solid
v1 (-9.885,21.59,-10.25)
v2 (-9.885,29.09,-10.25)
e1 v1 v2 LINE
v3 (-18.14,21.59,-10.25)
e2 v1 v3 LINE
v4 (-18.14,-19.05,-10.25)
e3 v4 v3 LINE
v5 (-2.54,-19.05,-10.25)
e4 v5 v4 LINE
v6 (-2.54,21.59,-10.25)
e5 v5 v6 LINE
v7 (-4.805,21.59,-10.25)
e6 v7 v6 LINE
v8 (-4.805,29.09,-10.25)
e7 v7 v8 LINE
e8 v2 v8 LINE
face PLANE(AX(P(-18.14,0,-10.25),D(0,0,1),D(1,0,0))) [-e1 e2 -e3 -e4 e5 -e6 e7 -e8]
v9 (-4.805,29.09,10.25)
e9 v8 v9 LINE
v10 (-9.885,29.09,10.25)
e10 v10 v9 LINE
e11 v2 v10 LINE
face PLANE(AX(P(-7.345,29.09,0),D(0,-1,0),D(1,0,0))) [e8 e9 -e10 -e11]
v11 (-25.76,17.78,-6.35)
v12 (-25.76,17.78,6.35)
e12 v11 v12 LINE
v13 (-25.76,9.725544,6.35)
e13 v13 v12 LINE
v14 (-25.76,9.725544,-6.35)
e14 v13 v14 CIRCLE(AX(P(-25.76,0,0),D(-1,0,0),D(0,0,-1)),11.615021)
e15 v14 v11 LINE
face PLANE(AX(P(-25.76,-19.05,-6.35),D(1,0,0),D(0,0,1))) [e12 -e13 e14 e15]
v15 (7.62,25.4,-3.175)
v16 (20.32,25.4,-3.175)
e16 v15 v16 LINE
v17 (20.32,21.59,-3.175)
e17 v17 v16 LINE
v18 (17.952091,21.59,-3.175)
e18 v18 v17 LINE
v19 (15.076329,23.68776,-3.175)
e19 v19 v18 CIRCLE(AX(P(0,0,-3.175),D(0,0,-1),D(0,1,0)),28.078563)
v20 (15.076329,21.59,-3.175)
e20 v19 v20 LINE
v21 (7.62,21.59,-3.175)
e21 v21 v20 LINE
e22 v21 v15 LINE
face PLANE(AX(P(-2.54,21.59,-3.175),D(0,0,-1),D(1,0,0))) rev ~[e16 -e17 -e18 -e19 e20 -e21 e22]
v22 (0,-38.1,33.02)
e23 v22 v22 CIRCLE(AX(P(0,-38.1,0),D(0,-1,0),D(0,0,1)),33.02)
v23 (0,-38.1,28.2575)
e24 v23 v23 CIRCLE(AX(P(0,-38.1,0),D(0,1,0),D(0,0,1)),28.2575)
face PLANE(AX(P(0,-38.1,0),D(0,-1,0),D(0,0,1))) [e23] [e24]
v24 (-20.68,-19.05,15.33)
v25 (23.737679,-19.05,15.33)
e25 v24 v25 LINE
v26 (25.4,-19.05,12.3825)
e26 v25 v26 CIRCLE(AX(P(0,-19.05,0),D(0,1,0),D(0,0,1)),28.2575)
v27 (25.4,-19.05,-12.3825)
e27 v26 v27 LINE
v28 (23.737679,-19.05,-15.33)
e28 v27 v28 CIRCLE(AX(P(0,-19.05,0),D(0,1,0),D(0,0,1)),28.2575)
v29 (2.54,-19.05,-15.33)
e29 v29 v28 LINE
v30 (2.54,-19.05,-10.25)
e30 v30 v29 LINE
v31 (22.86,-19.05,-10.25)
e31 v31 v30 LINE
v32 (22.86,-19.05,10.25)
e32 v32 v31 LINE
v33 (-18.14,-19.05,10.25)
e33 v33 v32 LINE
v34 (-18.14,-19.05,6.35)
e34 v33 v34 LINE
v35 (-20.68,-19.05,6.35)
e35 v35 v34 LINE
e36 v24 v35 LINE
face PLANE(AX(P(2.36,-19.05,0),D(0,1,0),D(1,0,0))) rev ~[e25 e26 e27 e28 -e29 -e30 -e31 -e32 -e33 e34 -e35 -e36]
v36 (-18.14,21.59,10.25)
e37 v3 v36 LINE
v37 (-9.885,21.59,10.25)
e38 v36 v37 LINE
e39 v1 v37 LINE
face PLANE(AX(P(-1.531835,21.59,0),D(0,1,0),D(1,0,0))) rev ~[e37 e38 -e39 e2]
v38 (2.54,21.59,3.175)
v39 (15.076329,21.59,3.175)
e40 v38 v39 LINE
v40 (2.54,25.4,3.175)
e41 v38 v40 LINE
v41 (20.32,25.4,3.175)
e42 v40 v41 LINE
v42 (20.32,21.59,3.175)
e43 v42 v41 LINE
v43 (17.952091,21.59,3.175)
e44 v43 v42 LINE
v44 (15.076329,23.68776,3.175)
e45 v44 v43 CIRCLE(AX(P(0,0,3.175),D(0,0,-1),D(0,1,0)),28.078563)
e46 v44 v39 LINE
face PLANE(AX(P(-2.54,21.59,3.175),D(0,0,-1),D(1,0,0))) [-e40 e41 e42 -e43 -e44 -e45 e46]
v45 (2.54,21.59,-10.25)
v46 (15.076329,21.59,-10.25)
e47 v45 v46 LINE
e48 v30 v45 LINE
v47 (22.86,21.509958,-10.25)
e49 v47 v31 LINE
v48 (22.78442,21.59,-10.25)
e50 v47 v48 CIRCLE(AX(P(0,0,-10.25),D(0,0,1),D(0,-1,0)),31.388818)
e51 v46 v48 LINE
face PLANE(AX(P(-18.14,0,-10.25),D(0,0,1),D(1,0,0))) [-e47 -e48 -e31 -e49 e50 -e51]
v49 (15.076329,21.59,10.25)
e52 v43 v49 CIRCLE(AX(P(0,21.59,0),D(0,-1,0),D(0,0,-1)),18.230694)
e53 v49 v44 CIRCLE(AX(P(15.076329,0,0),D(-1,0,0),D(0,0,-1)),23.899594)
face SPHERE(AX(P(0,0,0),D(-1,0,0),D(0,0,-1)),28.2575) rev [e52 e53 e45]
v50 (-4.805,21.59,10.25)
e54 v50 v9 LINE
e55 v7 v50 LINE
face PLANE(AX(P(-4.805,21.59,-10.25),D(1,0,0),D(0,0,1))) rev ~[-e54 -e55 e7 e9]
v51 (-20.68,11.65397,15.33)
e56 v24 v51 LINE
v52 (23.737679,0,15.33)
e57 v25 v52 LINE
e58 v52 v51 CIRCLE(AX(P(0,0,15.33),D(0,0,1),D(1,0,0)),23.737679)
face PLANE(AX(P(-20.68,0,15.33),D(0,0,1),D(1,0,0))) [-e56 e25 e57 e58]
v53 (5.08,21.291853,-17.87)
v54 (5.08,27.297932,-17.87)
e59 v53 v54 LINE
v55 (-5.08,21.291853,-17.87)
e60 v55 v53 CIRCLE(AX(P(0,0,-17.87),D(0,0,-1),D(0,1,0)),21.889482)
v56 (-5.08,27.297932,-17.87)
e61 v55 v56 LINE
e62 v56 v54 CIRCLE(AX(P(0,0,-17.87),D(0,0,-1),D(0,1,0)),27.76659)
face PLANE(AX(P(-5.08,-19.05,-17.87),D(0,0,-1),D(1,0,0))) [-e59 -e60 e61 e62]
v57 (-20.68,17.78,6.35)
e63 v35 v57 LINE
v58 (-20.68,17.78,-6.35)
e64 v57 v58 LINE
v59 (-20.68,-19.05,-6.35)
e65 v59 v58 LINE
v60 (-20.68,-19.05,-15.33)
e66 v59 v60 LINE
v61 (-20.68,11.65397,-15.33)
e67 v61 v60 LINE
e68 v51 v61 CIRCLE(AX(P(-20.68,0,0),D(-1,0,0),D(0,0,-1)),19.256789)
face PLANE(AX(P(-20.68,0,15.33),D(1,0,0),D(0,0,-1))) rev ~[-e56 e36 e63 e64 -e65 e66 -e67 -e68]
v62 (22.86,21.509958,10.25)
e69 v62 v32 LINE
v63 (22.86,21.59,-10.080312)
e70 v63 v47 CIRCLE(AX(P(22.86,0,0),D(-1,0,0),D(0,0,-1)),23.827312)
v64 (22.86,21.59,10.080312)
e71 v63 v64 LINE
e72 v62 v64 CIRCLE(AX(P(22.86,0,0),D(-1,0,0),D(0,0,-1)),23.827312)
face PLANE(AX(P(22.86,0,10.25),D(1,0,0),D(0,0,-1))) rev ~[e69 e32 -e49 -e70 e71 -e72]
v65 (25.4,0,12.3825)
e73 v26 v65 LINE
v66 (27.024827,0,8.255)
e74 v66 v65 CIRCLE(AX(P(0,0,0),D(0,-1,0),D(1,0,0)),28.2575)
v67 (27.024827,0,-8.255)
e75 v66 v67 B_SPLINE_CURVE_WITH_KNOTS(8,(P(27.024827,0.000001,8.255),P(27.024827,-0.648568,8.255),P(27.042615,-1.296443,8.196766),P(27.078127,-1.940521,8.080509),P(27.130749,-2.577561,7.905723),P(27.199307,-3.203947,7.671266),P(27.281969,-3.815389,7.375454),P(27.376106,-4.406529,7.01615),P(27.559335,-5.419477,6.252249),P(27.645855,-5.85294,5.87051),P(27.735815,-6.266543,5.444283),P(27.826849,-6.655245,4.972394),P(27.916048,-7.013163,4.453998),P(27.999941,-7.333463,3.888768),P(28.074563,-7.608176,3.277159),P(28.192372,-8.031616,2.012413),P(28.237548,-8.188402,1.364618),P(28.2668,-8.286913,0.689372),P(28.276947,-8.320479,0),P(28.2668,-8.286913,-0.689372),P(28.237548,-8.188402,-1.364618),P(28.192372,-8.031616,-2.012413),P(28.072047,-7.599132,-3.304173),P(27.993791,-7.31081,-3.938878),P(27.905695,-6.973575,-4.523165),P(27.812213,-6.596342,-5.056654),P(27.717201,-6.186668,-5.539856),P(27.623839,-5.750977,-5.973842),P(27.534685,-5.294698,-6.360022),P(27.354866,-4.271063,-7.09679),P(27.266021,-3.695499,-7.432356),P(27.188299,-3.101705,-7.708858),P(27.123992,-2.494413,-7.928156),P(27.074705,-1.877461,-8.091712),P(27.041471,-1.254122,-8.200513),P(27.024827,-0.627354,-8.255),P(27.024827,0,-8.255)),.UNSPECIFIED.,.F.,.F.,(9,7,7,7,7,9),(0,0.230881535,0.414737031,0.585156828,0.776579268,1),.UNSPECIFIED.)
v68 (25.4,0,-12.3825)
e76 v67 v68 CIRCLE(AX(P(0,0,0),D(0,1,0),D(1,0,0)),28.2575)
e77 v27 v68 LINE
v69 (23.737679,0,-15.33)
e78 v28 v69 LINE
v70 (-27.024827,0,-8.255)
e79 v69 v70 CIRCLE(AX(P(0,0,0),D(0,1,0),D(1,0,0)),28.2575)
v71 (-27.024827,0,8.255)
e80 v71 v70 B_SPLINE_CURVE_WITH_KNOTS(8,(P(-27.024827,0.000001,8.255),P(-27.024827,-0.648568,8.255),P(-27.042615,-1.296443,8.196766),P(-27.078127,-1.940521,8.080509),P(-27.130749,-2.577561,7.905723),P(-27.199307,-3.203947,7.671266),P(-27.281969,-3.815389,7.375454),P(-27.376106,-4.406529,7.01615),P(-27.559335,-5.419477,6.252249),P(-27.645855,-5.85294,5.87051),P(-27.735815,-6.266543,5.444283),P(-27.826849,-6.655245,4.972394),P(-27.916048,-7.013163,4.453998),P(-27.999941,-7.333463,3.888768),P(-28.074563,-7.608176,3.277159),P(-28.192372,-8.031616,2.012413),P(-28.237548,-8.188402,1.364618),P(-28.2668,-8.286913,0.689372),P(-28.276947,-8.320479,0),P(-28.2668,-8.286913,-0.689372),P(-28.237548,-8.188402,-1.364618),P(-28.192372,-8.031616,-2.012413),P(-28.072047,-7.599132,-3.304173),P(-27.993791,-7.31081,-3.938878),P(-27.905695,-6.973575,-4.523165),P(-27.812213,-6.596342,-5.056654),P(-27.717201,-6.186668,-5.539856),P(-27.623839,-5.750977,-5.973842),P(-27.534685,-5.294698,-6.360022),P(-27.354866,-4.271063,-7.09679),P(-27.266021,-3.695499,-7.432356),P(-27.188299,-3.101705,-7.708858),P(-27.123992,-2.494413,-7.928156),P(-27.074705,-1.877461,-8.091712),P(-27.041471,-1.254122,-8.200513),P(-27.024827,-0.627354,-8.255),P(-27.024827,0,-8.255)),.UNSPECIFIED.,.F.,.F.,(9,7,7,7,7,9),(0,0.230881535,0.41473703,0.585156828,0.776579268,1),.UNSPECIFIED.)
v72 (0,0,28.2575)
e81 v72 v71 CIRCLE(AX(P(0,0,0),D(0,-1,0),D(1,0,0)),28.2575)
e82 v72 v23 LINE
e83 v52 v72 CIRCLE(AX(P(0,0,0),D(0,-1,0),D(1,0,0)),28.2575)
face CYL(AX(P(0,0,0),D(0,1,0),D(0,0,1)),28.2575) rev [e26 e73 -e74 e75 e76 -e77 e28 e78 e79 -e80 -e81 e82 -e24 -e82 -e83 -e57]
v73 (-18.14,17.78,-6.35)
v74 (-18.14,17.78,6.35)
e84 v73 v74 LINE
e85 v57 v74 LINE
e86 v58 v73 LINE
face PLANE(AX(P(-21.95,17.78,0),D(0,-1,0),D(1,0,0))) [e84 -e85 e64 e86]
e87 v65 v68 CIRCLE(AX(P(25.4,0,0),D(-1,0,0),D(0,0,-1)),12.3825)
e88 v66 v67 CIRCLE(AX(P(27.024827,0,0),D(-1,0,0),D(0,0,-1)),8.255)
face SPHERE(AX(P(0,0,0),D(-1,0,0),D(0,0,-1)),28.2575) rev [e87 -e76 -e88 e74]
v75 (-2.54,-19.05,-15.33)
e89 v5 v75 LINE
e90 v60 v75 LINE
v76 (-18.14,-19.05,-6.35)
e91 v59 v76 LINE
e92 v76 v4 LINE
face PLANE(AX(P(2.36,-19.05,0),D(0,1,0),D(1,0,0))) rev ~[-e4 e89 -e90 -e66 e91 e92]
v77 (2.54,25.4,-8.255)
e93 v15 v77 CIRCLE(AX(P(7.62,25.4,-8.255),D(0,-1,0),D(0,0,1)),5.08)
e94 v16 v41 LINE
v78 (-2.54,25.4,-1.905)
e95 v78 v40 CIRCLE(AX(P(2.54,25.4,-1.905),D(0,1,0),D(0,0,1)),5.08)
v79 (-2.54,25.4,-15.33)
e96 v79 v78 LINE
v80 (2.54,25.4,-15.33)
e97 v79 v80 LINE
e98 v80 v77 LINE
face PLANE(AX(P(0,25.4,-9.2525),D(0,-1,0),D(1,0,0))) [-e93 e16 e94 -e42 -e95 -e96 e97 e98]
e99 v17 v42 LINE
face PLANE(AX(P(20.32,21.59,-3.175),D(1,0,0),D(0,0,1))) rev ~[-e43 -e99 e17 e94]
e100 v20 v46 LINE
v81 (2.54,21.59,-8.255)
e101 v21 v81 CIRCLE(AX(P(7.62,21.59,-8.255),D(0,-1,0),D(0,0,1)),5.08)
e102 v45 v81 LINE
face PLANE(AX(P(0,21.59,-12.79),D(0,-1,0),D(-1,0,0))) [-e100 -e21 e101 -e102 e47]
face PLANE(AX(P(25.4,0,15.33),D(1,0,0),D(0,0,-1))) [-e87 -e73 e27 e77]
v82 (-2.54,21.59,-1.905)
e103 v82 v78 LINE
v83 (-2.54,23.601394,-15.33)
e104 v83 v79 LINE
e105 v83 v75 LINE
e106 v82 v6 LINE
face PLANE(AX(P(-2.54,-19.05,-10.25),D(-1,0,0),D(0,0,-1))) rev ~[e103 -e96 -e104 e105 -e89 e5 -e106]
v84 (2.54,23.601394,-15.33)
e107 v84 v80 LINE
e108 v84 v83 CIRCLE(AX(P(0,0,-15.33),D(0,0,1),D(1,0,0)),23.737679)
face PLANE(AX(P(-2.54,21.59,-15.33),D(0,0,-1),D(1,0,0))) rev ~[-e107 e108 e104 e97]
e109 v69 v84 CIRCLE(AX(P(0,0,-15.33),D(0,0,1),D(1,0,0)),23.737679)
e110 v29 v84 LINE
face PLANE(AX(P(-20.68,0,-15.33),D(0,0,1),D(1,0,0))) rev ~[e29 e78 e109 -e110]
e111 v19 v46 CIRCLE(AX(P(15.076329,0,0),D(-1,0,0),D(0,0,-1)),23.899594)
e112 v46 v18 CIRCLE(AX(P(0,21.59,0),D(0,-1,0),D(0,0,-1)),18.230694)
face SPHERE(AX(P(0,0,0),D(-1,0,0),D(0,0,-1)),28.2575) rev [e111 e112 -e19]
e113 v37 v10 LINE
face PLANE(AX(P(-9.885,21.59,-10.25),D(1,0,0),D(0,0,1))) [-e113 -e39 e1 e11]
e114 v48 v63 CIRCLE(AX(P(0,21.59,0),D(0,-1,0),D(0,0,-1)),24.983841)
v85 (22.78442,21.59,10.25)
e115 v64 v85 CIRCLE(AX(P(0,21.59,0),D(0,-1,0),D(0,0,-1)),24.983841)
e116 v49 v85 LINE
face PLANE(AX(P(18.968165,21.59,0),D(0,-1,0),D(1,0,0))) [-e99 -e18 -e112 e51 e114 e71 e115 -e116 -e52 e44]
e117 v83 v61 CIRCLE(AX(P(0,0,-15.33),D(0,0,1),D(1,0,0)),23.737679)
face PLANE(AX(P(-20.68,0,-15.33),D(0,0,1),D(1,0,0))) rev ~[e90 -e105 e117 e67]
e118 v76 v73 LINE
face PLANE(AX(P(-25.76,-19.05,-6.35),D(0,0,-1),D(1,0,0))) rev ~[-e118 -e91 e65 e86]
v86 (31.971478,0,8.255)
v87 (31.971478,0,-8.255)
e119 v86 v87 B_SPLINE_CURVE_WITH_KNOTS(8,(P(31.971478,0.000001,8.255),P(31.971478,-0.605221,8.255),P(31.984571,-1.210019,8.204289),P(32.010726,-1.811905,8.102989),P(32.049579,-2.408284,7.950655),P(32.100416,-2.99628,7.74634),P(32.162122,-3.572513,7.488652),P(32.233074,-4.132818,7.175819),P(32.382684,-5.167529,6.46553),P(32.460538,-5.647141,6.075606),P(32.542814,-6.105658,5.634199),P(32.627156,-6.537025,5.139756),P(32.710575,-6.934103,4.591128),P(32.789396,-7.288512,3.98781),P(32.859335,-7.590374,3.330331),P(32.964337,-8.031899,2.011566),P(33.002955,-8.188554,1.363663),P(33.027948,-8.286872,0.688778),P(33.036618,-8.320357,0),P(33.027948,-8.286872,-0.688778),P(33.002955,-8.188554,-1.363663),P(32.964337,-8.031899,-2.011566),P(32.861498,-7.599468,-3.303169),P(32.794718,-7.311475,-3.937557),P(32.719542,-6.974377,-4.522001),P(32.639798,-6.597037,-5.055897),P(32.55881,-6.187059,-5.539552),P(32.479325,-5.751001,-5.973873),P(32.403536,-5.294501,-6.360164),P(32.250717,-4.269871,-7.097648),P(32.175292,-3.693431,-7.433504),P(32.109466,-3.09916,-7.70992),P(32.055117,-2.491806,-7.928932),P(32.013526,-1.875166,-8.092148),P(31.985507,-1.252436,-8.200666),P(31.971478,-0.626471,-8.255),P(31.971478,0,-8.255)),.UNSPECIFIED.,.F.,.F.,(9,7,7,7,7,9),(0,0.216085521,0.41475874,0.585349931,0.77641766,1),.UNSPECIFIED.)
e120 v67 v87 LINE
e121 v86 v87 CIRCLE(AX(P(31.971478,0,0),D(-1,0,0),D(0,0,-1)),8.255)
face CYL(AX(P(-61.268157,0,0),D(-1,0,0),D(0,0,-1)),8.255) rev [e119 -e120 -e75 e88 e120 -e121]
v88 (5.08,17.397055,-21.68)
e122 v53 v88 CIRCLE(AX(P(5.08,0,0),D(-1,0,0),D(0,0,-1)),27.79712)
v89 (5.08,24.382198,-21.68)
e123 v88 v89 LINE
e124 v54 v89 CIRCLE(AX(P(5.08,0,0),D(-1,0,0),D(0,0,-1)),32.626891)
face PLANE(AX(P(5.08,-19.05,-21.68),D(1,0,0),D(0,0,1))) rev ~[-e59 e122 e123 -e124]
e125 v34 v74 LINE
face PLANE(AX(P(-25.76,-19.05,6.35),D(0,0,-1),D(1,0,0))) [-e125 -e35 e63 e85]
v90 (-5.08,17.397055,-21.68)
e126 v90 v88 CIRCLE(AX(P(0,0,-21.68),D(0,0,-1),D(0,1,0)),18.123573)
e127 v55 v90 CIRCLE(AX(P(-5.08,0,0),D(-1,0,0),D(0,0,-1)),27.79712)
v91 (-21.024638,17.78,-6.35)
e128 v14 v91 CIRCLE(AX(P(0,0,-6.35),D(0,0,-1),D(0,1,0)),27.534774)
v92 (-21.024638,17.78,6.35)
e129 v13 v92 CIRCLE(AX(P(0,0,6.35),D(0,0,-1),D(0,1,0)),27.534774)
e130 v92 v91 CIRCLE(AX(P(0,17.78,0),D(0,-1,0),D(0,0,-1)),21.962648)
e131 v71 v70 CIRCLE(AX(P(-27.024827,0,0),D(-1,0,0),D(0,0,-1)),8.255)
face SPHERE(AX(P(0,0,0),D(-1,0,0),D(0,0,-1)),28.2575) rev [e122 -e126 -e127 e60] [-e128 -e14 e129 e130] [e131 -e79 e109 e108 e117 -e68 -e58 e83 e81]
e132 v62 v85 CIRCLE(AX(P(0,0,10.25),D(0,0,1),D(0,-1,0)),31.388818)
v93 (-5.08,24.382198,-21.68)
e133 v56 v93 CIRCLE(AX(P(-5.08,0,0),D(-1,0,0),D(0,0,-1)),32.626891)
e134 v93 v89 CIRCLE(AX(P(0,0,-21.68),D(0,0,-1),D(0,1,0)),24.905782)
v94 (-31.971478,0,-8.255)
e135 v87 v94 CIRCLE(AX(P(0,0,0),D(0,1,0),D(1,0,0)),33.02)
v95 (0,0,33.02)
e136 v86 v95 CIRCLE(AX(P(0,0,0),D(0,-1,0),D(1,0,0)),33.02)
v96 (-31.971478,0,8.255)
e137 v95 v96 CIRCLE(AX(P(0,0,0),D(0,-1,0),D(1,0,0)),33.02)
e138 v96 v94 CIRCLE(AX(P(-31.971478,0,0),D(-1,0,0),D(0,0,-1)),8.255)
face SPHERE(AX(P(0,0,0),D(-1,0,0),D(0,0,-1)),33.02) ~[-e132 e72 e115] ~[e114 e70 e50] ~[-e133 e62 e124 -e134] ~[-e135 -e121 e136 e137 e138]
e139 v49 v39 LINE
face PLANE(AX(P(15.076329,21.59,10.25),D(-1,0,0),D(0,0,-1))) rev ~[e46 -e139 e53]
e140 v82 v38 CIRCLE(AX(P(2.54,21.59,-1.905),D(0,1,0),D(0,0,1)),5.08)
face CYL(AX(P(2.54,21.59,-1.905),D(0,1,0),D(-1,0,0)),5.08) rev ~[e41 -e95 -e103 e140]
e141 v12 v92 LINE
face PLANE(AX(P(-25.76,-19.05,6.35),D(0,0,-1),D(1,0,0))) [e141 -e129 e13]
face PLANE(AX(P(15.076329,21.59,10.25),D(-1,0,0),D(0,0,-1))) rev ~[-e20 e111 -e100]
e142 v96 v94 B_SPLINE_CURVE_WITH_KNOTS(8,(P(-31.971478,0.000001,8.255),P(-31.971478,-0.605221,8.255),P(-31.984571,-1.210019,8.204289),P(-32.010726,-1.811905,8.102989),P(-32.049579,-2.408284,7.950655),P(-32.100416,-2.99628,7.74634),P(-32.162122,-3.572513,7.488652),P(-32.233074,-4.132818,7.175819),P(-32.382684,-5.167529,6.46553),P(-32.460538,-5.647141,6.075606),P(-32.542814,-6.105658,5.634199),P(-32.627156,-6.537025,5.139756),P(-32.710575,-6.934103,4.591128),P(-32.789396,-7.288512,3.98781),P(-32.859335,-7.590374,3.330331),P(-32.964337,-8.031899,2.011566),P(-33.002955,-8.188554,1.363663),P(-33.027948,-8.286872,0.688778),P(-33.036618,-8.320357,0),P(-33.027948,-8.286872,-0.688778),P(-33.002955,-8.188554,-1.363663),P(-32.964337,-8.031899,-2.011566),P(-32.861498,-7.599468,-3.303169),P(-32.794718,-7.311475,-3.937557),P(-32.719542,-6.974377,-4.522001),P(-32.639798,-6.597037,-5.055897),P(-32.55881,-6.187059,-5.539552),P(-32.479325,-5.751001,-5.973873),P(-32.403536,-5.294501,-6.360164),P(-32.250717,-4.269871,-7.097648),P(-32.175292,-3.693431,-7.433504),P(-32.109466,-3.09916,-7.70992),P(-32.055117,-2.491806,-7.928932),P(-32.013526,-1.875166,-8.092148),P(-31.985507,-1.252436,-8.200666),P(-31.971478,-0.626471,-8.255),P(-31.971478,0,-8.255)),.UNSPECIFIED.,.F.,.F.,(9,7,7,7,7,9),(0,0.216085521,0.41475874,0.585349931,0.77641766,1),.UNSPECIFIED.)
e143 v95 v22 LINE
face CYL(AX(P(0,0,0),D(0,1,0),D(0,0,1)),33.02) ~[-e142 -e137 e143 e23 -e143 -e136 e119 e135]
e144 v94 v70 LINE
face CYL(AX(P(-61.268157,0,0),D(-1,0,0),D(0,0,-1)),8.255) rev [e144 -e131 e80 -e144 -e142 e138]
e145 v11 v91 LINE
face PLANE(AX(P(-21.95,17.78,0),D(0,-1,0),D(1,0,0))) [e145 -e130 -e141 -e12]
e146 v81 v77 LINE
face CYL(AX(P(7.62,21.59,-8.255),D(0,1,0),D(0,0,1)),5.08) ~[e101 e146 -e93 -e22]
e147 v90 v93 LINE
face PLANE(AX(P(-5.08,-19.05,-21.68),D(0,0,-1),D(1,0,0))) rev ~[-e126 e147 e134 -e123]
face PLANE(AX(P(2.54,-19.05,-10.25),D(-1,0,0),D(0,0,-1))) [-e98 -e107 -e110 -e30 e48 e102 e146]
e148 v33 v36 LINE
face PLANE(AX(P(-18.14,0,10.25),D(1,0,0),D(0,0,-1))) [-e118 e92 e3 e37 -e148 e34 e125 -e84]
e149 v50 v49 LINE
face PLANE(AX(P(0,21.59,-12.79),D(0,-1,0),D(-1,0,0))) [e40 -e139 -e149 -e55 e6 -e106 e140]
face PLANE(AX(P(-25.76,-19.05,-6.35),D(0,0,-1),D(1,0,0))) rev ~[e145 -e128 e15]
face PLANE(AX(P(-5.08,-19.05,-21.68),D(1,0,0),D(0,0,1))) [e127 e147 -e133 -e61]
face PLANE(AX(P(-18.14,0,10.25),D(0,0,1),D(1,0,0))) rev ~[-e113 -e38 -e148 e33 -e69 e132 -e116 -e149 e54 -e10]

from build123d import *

# Parameters (mm, degrees)
REVOLVE1_ANGLE                  = 180
SKETCH3_R                       = 33.02
BOSS_EXTRUDE1_DEPTH             = 38.1
SHELL1_T                        = -4.7625
CUT_EXTRUDE1_DEPTH              = 61.26815743
CUT_EXTRUDE1_DEPTH_BACK         = 61.26815743
SKETCH4_R                       = 8.255
BOSS_EXTRUDE4_REACH             = 62.268
BOSS_EXTRUDE4_END_RADIUS        = 28.2575
SKETCH5_W                       = 46.08
SKETCH5_H                       = 30.66
SKETCH5_W_2                     = 41
SKETCH5_H_2                     = 20.5
BOSS_EXTRUDE4_DIRECTION_2_DEPTH = 19.05
BOSS_EXTRUDE6_REACH             = 77.786
SKETCH8_W                       = 33.216329336
SKETCH8_H                       = 20.5
SKETCH9_W                       = 5.08
SKETCH9_H                       = 20.5
CUT_EXTRUDE2_DEPTH              = 7.5
SKETCH15_W                      = 3.063670664
SKETCH15_H                      = 20.5
SKETCH15_W_2                    = 7.783670664
CUT_EXTRUDE5_DEPTH              = 76.786126205
SKETCH10_W                      = 10.16
SKETCH10_H                      = 3.81
CUT_EXTRUDE3_DEPTH              = 70.942302745
SKETCH11_W                      = 7.62
SKETCH11_H                      = 12.7
CUT_EXTRUDE4_DEPTH              = 36.83
SKETCH16_W                      = 5.08
SKETCH16_H                      = 5.08
CUT_EXTRUDE6_DEPTH              = 40.64
SKETCH17_W                      = 22.86
SKETCH17_H                      = 6.35
CUT_EXTRUDE7_DEPTH              = 3.81
SKETCH18_W                      = 5.08
SKETCH18_H                      = 12.155
CUT_EXTRUDE8_DEPTH              = 3.81
FILLET1_R                       = 5.08


with BuildPart() as part:
    # Sketch2 → Revolve1 (revolve)
    with BuildSketch(Plane(origin=(0, 0, 0), x_dir=(1, 0, 0), z_dir=(0, 1, 0))):
        with BuildLine():
            Line((-33.02, 0), (33.02, 0))
            ThreePointArc((33.02, 0), (0, 33.02), (-33.02, 0))
        make_face()
    revolve(axis=Axis((-33.02, 0, 0), (1, 0, 0)), revolution_arc=REVOLVE1_ANGLE)

    # Sketch3 → Boss-Extrude1 (add)
    with BuildSketch(Plane.XZ):
        with Locations(Location((0, 0, 0), (0, 0, 90))):
            Circle(SKETCH3_R)
    extrude(amount=BOSS_EXTRUDE1_DEPTH)

    # Shell1
    shell1_openings = [part.faces().sort_by_distance(p)[0] for p in [
        (0, -38.1, 0),
    ]]
    offset(amount=SHELL1_T, openings=shell1_openings, kind=Kind.INTERSECTION)

    # Sketch4 → Cut-Extrude1 (cut, two sides: drawn at the far end of the back side and taken through both)
    with BuildSketch(Plane(origin=(0, 0, 0), x_dir=(0, 0, -1), z_dir=(1, 0, 0)).offset(-CUT_EXTRUDE1_DEPTH_BACK)):
        Circle(SKETCH4_R)
    extrude(amount=CUT_EXTRUDE1_DEPTH + CUT_EXTRUDE1_DEPTH_BACK, mode=Mode.SUBTRACT)

    # Boss-Extrude4: up to this sphere (the profile starts inside it)
    boss_extrude4_end = Location((0, 0, 0)) * Sphere(BOSS_EXTRUDE4_END_RADIUS, mode=Mode.PRIVATE)
    # Sketch5 → Boss-Extrude4 (add, up to the surface)
    with BuildSketch(Plane(origin=(0, 0, 0), x_dir=(1, 0, 0), z_dir=(0, 1, 0)), mode=Mode.PRIVATE) as boss_extrude4_sk1:
        with Locations((2.36, 0)):
            Rectangle(SKETCH5_W, SKETCH5_H)
        with Locations((2.36, 0)):
            Rectangle(SKETCH5_W_2, SKETCH5_H_2, mode=Mode.SUBTRACT)
    boss_extrude4_tool1 = extrude(boss_extrude4_sk1.sketch, amount=BOSS_EXTRUDE4_REACH, mode=Mode.PRIVATE) & boss_extrude4_end
    add(boss_extrude4_tool1.solids().sort_by_distance((2.36, 0, -14.77652))[0])

    # Sketch5 → Boss-Extrude4 direction 2 (add)
    with BuildSketch(Plane(origin=(0, 0, 0), x_dir=(1, 0, 0), z_dir=(0, 1, 0))):
        with Locations((2.36, 0)):
            Rectangle(SKETCH5_W, SKETCH5_H)
        with Locations((2.36, 0)):
            Rectangle(SKETCH5_W_2, SKETCH5_H_2, mode=Mode.SUBTRACT)
    extrude(amount=-BOSS_EXTRUDE4_DIRECTION_2_DEPTH)

    # Sketch8 → Boss-Extrude6 (add, up to next)
    with BuildSketch(Plane(origin=(0, 21.59, 0), x_dir=(1, 0, 0), z_dir=(0, 1, 0)), mode=Mode.PRIVATE) as boss_extrude6_sk1:
        with Locations((-1.531835332, 0)):
            Rectangle(SKETCH8_W, SKETCH8_H)
    boss_extrude6_tool1 = extrude(boss_extrude6_sk1.sketch, amount=BOSS_EXTRUDE6_REACH, mode=Mode.PRIVATE) - part.part
    add(boss_extrude6_tool1.solids().sort_by_distance((-1.531835, 21.59, 0))[0])

    # Sketch9 → Cut-Extrude2 (cut)
    with BuildSketch(Plane.XZ.offset(-21.59)):
        with Locations((-7.345, 0)):
            Rectangle(SKETCH9_W, SKETCH9_H)
    extrude(amount=-CUT_EXTRUDE2_DEPTH, mode=Mode.SUBTRACT)

    # Sketch15 → Cut-Extrude5 (cut, through all)
    with BuildSketch(Plane.XZ.offset(-21.59)):
        with Locations((-16.608164668, 0)):
            Rectangle(SKETCH15_W, SKETCH15_H)
        with Locations((18.968164668, 0)):
            Rectangle(SKETCH15_W_2, SKETCH15_H)
    extrude(amount=CUT_EXTRUDE5_DEPTH, mode=Mode.SUBTRACT)

    # Sketch10 → Cut-Extrude3 (cut, through all)
    with BuildSketch(Plane.XZ.offset(19.05)):
        with Locations((0, -19.775)):
            Rectangle(SKETCH10_W, SKETCH10_H)
    extrude(amount=-CUT_EXTRUDE3_DEPTH, mode=Mode.SUBTRACT)

    # Sketch11 → Cut-Extrude4 (cut)
    with BuildSketch(Plane.XZ.offset(19.05)):
        with Locations((-21.95, 0)):
            Rectangle(SKETCH11_W, SKETCH11_H)
    extrude(amount=-CUT_EXTRUDE4_DEPTH, mode=Mode.SUBTRACT)

    # Sketch16 → Cut-Extrude6 (cut)
    with BuildSketch(Plane(origin=(0, -19.05, 0), x_dir=(-1, 0, 0), z_dir=(0, -1, 0))):
        with Locations((0, 12.79)):
            Rectangle(SKETCH16_W, SKETCH16_H)
    extrude(amount=-CUT_EXTRUDE6_DEPTH, mode=Mode.SUBTRACT)

    # Sketch17 → Cut-Extrude7 (cut)
    with BuildSketch(Plane.XZ.offset(-21.59)):
        with Locations((8.89, 0)):
            Rectangle(SKETCH17_W, SKETCH17_H)
    extrude(amount=-CUT_EXTRUDE7_DEPTH, mode=Mode.SUBTRACT)

    # Sketch18 → Cut-Extrude8 (cut)
    with BuildSketch(Plane.XZ.offset(-21.59)):
        with Locations((0, -9.2525)):
            Rectangle(SKETCH18_W, SKETCH18_H)
    extrude(amount=-CUT_EXTRUDE8_DEPTH, mode=Mode.SUBTRACT)

    # Fillet1
    fillet1_edges = [part.edges().sort_by_distance(p)[0] for p in [
        (-2.54, 23.495, 3.175),
        (2.54, 23.495, -3.175),
    ]]
    fillet(fillet1_edges, radius=FILLET1_R)


solid = part.part
